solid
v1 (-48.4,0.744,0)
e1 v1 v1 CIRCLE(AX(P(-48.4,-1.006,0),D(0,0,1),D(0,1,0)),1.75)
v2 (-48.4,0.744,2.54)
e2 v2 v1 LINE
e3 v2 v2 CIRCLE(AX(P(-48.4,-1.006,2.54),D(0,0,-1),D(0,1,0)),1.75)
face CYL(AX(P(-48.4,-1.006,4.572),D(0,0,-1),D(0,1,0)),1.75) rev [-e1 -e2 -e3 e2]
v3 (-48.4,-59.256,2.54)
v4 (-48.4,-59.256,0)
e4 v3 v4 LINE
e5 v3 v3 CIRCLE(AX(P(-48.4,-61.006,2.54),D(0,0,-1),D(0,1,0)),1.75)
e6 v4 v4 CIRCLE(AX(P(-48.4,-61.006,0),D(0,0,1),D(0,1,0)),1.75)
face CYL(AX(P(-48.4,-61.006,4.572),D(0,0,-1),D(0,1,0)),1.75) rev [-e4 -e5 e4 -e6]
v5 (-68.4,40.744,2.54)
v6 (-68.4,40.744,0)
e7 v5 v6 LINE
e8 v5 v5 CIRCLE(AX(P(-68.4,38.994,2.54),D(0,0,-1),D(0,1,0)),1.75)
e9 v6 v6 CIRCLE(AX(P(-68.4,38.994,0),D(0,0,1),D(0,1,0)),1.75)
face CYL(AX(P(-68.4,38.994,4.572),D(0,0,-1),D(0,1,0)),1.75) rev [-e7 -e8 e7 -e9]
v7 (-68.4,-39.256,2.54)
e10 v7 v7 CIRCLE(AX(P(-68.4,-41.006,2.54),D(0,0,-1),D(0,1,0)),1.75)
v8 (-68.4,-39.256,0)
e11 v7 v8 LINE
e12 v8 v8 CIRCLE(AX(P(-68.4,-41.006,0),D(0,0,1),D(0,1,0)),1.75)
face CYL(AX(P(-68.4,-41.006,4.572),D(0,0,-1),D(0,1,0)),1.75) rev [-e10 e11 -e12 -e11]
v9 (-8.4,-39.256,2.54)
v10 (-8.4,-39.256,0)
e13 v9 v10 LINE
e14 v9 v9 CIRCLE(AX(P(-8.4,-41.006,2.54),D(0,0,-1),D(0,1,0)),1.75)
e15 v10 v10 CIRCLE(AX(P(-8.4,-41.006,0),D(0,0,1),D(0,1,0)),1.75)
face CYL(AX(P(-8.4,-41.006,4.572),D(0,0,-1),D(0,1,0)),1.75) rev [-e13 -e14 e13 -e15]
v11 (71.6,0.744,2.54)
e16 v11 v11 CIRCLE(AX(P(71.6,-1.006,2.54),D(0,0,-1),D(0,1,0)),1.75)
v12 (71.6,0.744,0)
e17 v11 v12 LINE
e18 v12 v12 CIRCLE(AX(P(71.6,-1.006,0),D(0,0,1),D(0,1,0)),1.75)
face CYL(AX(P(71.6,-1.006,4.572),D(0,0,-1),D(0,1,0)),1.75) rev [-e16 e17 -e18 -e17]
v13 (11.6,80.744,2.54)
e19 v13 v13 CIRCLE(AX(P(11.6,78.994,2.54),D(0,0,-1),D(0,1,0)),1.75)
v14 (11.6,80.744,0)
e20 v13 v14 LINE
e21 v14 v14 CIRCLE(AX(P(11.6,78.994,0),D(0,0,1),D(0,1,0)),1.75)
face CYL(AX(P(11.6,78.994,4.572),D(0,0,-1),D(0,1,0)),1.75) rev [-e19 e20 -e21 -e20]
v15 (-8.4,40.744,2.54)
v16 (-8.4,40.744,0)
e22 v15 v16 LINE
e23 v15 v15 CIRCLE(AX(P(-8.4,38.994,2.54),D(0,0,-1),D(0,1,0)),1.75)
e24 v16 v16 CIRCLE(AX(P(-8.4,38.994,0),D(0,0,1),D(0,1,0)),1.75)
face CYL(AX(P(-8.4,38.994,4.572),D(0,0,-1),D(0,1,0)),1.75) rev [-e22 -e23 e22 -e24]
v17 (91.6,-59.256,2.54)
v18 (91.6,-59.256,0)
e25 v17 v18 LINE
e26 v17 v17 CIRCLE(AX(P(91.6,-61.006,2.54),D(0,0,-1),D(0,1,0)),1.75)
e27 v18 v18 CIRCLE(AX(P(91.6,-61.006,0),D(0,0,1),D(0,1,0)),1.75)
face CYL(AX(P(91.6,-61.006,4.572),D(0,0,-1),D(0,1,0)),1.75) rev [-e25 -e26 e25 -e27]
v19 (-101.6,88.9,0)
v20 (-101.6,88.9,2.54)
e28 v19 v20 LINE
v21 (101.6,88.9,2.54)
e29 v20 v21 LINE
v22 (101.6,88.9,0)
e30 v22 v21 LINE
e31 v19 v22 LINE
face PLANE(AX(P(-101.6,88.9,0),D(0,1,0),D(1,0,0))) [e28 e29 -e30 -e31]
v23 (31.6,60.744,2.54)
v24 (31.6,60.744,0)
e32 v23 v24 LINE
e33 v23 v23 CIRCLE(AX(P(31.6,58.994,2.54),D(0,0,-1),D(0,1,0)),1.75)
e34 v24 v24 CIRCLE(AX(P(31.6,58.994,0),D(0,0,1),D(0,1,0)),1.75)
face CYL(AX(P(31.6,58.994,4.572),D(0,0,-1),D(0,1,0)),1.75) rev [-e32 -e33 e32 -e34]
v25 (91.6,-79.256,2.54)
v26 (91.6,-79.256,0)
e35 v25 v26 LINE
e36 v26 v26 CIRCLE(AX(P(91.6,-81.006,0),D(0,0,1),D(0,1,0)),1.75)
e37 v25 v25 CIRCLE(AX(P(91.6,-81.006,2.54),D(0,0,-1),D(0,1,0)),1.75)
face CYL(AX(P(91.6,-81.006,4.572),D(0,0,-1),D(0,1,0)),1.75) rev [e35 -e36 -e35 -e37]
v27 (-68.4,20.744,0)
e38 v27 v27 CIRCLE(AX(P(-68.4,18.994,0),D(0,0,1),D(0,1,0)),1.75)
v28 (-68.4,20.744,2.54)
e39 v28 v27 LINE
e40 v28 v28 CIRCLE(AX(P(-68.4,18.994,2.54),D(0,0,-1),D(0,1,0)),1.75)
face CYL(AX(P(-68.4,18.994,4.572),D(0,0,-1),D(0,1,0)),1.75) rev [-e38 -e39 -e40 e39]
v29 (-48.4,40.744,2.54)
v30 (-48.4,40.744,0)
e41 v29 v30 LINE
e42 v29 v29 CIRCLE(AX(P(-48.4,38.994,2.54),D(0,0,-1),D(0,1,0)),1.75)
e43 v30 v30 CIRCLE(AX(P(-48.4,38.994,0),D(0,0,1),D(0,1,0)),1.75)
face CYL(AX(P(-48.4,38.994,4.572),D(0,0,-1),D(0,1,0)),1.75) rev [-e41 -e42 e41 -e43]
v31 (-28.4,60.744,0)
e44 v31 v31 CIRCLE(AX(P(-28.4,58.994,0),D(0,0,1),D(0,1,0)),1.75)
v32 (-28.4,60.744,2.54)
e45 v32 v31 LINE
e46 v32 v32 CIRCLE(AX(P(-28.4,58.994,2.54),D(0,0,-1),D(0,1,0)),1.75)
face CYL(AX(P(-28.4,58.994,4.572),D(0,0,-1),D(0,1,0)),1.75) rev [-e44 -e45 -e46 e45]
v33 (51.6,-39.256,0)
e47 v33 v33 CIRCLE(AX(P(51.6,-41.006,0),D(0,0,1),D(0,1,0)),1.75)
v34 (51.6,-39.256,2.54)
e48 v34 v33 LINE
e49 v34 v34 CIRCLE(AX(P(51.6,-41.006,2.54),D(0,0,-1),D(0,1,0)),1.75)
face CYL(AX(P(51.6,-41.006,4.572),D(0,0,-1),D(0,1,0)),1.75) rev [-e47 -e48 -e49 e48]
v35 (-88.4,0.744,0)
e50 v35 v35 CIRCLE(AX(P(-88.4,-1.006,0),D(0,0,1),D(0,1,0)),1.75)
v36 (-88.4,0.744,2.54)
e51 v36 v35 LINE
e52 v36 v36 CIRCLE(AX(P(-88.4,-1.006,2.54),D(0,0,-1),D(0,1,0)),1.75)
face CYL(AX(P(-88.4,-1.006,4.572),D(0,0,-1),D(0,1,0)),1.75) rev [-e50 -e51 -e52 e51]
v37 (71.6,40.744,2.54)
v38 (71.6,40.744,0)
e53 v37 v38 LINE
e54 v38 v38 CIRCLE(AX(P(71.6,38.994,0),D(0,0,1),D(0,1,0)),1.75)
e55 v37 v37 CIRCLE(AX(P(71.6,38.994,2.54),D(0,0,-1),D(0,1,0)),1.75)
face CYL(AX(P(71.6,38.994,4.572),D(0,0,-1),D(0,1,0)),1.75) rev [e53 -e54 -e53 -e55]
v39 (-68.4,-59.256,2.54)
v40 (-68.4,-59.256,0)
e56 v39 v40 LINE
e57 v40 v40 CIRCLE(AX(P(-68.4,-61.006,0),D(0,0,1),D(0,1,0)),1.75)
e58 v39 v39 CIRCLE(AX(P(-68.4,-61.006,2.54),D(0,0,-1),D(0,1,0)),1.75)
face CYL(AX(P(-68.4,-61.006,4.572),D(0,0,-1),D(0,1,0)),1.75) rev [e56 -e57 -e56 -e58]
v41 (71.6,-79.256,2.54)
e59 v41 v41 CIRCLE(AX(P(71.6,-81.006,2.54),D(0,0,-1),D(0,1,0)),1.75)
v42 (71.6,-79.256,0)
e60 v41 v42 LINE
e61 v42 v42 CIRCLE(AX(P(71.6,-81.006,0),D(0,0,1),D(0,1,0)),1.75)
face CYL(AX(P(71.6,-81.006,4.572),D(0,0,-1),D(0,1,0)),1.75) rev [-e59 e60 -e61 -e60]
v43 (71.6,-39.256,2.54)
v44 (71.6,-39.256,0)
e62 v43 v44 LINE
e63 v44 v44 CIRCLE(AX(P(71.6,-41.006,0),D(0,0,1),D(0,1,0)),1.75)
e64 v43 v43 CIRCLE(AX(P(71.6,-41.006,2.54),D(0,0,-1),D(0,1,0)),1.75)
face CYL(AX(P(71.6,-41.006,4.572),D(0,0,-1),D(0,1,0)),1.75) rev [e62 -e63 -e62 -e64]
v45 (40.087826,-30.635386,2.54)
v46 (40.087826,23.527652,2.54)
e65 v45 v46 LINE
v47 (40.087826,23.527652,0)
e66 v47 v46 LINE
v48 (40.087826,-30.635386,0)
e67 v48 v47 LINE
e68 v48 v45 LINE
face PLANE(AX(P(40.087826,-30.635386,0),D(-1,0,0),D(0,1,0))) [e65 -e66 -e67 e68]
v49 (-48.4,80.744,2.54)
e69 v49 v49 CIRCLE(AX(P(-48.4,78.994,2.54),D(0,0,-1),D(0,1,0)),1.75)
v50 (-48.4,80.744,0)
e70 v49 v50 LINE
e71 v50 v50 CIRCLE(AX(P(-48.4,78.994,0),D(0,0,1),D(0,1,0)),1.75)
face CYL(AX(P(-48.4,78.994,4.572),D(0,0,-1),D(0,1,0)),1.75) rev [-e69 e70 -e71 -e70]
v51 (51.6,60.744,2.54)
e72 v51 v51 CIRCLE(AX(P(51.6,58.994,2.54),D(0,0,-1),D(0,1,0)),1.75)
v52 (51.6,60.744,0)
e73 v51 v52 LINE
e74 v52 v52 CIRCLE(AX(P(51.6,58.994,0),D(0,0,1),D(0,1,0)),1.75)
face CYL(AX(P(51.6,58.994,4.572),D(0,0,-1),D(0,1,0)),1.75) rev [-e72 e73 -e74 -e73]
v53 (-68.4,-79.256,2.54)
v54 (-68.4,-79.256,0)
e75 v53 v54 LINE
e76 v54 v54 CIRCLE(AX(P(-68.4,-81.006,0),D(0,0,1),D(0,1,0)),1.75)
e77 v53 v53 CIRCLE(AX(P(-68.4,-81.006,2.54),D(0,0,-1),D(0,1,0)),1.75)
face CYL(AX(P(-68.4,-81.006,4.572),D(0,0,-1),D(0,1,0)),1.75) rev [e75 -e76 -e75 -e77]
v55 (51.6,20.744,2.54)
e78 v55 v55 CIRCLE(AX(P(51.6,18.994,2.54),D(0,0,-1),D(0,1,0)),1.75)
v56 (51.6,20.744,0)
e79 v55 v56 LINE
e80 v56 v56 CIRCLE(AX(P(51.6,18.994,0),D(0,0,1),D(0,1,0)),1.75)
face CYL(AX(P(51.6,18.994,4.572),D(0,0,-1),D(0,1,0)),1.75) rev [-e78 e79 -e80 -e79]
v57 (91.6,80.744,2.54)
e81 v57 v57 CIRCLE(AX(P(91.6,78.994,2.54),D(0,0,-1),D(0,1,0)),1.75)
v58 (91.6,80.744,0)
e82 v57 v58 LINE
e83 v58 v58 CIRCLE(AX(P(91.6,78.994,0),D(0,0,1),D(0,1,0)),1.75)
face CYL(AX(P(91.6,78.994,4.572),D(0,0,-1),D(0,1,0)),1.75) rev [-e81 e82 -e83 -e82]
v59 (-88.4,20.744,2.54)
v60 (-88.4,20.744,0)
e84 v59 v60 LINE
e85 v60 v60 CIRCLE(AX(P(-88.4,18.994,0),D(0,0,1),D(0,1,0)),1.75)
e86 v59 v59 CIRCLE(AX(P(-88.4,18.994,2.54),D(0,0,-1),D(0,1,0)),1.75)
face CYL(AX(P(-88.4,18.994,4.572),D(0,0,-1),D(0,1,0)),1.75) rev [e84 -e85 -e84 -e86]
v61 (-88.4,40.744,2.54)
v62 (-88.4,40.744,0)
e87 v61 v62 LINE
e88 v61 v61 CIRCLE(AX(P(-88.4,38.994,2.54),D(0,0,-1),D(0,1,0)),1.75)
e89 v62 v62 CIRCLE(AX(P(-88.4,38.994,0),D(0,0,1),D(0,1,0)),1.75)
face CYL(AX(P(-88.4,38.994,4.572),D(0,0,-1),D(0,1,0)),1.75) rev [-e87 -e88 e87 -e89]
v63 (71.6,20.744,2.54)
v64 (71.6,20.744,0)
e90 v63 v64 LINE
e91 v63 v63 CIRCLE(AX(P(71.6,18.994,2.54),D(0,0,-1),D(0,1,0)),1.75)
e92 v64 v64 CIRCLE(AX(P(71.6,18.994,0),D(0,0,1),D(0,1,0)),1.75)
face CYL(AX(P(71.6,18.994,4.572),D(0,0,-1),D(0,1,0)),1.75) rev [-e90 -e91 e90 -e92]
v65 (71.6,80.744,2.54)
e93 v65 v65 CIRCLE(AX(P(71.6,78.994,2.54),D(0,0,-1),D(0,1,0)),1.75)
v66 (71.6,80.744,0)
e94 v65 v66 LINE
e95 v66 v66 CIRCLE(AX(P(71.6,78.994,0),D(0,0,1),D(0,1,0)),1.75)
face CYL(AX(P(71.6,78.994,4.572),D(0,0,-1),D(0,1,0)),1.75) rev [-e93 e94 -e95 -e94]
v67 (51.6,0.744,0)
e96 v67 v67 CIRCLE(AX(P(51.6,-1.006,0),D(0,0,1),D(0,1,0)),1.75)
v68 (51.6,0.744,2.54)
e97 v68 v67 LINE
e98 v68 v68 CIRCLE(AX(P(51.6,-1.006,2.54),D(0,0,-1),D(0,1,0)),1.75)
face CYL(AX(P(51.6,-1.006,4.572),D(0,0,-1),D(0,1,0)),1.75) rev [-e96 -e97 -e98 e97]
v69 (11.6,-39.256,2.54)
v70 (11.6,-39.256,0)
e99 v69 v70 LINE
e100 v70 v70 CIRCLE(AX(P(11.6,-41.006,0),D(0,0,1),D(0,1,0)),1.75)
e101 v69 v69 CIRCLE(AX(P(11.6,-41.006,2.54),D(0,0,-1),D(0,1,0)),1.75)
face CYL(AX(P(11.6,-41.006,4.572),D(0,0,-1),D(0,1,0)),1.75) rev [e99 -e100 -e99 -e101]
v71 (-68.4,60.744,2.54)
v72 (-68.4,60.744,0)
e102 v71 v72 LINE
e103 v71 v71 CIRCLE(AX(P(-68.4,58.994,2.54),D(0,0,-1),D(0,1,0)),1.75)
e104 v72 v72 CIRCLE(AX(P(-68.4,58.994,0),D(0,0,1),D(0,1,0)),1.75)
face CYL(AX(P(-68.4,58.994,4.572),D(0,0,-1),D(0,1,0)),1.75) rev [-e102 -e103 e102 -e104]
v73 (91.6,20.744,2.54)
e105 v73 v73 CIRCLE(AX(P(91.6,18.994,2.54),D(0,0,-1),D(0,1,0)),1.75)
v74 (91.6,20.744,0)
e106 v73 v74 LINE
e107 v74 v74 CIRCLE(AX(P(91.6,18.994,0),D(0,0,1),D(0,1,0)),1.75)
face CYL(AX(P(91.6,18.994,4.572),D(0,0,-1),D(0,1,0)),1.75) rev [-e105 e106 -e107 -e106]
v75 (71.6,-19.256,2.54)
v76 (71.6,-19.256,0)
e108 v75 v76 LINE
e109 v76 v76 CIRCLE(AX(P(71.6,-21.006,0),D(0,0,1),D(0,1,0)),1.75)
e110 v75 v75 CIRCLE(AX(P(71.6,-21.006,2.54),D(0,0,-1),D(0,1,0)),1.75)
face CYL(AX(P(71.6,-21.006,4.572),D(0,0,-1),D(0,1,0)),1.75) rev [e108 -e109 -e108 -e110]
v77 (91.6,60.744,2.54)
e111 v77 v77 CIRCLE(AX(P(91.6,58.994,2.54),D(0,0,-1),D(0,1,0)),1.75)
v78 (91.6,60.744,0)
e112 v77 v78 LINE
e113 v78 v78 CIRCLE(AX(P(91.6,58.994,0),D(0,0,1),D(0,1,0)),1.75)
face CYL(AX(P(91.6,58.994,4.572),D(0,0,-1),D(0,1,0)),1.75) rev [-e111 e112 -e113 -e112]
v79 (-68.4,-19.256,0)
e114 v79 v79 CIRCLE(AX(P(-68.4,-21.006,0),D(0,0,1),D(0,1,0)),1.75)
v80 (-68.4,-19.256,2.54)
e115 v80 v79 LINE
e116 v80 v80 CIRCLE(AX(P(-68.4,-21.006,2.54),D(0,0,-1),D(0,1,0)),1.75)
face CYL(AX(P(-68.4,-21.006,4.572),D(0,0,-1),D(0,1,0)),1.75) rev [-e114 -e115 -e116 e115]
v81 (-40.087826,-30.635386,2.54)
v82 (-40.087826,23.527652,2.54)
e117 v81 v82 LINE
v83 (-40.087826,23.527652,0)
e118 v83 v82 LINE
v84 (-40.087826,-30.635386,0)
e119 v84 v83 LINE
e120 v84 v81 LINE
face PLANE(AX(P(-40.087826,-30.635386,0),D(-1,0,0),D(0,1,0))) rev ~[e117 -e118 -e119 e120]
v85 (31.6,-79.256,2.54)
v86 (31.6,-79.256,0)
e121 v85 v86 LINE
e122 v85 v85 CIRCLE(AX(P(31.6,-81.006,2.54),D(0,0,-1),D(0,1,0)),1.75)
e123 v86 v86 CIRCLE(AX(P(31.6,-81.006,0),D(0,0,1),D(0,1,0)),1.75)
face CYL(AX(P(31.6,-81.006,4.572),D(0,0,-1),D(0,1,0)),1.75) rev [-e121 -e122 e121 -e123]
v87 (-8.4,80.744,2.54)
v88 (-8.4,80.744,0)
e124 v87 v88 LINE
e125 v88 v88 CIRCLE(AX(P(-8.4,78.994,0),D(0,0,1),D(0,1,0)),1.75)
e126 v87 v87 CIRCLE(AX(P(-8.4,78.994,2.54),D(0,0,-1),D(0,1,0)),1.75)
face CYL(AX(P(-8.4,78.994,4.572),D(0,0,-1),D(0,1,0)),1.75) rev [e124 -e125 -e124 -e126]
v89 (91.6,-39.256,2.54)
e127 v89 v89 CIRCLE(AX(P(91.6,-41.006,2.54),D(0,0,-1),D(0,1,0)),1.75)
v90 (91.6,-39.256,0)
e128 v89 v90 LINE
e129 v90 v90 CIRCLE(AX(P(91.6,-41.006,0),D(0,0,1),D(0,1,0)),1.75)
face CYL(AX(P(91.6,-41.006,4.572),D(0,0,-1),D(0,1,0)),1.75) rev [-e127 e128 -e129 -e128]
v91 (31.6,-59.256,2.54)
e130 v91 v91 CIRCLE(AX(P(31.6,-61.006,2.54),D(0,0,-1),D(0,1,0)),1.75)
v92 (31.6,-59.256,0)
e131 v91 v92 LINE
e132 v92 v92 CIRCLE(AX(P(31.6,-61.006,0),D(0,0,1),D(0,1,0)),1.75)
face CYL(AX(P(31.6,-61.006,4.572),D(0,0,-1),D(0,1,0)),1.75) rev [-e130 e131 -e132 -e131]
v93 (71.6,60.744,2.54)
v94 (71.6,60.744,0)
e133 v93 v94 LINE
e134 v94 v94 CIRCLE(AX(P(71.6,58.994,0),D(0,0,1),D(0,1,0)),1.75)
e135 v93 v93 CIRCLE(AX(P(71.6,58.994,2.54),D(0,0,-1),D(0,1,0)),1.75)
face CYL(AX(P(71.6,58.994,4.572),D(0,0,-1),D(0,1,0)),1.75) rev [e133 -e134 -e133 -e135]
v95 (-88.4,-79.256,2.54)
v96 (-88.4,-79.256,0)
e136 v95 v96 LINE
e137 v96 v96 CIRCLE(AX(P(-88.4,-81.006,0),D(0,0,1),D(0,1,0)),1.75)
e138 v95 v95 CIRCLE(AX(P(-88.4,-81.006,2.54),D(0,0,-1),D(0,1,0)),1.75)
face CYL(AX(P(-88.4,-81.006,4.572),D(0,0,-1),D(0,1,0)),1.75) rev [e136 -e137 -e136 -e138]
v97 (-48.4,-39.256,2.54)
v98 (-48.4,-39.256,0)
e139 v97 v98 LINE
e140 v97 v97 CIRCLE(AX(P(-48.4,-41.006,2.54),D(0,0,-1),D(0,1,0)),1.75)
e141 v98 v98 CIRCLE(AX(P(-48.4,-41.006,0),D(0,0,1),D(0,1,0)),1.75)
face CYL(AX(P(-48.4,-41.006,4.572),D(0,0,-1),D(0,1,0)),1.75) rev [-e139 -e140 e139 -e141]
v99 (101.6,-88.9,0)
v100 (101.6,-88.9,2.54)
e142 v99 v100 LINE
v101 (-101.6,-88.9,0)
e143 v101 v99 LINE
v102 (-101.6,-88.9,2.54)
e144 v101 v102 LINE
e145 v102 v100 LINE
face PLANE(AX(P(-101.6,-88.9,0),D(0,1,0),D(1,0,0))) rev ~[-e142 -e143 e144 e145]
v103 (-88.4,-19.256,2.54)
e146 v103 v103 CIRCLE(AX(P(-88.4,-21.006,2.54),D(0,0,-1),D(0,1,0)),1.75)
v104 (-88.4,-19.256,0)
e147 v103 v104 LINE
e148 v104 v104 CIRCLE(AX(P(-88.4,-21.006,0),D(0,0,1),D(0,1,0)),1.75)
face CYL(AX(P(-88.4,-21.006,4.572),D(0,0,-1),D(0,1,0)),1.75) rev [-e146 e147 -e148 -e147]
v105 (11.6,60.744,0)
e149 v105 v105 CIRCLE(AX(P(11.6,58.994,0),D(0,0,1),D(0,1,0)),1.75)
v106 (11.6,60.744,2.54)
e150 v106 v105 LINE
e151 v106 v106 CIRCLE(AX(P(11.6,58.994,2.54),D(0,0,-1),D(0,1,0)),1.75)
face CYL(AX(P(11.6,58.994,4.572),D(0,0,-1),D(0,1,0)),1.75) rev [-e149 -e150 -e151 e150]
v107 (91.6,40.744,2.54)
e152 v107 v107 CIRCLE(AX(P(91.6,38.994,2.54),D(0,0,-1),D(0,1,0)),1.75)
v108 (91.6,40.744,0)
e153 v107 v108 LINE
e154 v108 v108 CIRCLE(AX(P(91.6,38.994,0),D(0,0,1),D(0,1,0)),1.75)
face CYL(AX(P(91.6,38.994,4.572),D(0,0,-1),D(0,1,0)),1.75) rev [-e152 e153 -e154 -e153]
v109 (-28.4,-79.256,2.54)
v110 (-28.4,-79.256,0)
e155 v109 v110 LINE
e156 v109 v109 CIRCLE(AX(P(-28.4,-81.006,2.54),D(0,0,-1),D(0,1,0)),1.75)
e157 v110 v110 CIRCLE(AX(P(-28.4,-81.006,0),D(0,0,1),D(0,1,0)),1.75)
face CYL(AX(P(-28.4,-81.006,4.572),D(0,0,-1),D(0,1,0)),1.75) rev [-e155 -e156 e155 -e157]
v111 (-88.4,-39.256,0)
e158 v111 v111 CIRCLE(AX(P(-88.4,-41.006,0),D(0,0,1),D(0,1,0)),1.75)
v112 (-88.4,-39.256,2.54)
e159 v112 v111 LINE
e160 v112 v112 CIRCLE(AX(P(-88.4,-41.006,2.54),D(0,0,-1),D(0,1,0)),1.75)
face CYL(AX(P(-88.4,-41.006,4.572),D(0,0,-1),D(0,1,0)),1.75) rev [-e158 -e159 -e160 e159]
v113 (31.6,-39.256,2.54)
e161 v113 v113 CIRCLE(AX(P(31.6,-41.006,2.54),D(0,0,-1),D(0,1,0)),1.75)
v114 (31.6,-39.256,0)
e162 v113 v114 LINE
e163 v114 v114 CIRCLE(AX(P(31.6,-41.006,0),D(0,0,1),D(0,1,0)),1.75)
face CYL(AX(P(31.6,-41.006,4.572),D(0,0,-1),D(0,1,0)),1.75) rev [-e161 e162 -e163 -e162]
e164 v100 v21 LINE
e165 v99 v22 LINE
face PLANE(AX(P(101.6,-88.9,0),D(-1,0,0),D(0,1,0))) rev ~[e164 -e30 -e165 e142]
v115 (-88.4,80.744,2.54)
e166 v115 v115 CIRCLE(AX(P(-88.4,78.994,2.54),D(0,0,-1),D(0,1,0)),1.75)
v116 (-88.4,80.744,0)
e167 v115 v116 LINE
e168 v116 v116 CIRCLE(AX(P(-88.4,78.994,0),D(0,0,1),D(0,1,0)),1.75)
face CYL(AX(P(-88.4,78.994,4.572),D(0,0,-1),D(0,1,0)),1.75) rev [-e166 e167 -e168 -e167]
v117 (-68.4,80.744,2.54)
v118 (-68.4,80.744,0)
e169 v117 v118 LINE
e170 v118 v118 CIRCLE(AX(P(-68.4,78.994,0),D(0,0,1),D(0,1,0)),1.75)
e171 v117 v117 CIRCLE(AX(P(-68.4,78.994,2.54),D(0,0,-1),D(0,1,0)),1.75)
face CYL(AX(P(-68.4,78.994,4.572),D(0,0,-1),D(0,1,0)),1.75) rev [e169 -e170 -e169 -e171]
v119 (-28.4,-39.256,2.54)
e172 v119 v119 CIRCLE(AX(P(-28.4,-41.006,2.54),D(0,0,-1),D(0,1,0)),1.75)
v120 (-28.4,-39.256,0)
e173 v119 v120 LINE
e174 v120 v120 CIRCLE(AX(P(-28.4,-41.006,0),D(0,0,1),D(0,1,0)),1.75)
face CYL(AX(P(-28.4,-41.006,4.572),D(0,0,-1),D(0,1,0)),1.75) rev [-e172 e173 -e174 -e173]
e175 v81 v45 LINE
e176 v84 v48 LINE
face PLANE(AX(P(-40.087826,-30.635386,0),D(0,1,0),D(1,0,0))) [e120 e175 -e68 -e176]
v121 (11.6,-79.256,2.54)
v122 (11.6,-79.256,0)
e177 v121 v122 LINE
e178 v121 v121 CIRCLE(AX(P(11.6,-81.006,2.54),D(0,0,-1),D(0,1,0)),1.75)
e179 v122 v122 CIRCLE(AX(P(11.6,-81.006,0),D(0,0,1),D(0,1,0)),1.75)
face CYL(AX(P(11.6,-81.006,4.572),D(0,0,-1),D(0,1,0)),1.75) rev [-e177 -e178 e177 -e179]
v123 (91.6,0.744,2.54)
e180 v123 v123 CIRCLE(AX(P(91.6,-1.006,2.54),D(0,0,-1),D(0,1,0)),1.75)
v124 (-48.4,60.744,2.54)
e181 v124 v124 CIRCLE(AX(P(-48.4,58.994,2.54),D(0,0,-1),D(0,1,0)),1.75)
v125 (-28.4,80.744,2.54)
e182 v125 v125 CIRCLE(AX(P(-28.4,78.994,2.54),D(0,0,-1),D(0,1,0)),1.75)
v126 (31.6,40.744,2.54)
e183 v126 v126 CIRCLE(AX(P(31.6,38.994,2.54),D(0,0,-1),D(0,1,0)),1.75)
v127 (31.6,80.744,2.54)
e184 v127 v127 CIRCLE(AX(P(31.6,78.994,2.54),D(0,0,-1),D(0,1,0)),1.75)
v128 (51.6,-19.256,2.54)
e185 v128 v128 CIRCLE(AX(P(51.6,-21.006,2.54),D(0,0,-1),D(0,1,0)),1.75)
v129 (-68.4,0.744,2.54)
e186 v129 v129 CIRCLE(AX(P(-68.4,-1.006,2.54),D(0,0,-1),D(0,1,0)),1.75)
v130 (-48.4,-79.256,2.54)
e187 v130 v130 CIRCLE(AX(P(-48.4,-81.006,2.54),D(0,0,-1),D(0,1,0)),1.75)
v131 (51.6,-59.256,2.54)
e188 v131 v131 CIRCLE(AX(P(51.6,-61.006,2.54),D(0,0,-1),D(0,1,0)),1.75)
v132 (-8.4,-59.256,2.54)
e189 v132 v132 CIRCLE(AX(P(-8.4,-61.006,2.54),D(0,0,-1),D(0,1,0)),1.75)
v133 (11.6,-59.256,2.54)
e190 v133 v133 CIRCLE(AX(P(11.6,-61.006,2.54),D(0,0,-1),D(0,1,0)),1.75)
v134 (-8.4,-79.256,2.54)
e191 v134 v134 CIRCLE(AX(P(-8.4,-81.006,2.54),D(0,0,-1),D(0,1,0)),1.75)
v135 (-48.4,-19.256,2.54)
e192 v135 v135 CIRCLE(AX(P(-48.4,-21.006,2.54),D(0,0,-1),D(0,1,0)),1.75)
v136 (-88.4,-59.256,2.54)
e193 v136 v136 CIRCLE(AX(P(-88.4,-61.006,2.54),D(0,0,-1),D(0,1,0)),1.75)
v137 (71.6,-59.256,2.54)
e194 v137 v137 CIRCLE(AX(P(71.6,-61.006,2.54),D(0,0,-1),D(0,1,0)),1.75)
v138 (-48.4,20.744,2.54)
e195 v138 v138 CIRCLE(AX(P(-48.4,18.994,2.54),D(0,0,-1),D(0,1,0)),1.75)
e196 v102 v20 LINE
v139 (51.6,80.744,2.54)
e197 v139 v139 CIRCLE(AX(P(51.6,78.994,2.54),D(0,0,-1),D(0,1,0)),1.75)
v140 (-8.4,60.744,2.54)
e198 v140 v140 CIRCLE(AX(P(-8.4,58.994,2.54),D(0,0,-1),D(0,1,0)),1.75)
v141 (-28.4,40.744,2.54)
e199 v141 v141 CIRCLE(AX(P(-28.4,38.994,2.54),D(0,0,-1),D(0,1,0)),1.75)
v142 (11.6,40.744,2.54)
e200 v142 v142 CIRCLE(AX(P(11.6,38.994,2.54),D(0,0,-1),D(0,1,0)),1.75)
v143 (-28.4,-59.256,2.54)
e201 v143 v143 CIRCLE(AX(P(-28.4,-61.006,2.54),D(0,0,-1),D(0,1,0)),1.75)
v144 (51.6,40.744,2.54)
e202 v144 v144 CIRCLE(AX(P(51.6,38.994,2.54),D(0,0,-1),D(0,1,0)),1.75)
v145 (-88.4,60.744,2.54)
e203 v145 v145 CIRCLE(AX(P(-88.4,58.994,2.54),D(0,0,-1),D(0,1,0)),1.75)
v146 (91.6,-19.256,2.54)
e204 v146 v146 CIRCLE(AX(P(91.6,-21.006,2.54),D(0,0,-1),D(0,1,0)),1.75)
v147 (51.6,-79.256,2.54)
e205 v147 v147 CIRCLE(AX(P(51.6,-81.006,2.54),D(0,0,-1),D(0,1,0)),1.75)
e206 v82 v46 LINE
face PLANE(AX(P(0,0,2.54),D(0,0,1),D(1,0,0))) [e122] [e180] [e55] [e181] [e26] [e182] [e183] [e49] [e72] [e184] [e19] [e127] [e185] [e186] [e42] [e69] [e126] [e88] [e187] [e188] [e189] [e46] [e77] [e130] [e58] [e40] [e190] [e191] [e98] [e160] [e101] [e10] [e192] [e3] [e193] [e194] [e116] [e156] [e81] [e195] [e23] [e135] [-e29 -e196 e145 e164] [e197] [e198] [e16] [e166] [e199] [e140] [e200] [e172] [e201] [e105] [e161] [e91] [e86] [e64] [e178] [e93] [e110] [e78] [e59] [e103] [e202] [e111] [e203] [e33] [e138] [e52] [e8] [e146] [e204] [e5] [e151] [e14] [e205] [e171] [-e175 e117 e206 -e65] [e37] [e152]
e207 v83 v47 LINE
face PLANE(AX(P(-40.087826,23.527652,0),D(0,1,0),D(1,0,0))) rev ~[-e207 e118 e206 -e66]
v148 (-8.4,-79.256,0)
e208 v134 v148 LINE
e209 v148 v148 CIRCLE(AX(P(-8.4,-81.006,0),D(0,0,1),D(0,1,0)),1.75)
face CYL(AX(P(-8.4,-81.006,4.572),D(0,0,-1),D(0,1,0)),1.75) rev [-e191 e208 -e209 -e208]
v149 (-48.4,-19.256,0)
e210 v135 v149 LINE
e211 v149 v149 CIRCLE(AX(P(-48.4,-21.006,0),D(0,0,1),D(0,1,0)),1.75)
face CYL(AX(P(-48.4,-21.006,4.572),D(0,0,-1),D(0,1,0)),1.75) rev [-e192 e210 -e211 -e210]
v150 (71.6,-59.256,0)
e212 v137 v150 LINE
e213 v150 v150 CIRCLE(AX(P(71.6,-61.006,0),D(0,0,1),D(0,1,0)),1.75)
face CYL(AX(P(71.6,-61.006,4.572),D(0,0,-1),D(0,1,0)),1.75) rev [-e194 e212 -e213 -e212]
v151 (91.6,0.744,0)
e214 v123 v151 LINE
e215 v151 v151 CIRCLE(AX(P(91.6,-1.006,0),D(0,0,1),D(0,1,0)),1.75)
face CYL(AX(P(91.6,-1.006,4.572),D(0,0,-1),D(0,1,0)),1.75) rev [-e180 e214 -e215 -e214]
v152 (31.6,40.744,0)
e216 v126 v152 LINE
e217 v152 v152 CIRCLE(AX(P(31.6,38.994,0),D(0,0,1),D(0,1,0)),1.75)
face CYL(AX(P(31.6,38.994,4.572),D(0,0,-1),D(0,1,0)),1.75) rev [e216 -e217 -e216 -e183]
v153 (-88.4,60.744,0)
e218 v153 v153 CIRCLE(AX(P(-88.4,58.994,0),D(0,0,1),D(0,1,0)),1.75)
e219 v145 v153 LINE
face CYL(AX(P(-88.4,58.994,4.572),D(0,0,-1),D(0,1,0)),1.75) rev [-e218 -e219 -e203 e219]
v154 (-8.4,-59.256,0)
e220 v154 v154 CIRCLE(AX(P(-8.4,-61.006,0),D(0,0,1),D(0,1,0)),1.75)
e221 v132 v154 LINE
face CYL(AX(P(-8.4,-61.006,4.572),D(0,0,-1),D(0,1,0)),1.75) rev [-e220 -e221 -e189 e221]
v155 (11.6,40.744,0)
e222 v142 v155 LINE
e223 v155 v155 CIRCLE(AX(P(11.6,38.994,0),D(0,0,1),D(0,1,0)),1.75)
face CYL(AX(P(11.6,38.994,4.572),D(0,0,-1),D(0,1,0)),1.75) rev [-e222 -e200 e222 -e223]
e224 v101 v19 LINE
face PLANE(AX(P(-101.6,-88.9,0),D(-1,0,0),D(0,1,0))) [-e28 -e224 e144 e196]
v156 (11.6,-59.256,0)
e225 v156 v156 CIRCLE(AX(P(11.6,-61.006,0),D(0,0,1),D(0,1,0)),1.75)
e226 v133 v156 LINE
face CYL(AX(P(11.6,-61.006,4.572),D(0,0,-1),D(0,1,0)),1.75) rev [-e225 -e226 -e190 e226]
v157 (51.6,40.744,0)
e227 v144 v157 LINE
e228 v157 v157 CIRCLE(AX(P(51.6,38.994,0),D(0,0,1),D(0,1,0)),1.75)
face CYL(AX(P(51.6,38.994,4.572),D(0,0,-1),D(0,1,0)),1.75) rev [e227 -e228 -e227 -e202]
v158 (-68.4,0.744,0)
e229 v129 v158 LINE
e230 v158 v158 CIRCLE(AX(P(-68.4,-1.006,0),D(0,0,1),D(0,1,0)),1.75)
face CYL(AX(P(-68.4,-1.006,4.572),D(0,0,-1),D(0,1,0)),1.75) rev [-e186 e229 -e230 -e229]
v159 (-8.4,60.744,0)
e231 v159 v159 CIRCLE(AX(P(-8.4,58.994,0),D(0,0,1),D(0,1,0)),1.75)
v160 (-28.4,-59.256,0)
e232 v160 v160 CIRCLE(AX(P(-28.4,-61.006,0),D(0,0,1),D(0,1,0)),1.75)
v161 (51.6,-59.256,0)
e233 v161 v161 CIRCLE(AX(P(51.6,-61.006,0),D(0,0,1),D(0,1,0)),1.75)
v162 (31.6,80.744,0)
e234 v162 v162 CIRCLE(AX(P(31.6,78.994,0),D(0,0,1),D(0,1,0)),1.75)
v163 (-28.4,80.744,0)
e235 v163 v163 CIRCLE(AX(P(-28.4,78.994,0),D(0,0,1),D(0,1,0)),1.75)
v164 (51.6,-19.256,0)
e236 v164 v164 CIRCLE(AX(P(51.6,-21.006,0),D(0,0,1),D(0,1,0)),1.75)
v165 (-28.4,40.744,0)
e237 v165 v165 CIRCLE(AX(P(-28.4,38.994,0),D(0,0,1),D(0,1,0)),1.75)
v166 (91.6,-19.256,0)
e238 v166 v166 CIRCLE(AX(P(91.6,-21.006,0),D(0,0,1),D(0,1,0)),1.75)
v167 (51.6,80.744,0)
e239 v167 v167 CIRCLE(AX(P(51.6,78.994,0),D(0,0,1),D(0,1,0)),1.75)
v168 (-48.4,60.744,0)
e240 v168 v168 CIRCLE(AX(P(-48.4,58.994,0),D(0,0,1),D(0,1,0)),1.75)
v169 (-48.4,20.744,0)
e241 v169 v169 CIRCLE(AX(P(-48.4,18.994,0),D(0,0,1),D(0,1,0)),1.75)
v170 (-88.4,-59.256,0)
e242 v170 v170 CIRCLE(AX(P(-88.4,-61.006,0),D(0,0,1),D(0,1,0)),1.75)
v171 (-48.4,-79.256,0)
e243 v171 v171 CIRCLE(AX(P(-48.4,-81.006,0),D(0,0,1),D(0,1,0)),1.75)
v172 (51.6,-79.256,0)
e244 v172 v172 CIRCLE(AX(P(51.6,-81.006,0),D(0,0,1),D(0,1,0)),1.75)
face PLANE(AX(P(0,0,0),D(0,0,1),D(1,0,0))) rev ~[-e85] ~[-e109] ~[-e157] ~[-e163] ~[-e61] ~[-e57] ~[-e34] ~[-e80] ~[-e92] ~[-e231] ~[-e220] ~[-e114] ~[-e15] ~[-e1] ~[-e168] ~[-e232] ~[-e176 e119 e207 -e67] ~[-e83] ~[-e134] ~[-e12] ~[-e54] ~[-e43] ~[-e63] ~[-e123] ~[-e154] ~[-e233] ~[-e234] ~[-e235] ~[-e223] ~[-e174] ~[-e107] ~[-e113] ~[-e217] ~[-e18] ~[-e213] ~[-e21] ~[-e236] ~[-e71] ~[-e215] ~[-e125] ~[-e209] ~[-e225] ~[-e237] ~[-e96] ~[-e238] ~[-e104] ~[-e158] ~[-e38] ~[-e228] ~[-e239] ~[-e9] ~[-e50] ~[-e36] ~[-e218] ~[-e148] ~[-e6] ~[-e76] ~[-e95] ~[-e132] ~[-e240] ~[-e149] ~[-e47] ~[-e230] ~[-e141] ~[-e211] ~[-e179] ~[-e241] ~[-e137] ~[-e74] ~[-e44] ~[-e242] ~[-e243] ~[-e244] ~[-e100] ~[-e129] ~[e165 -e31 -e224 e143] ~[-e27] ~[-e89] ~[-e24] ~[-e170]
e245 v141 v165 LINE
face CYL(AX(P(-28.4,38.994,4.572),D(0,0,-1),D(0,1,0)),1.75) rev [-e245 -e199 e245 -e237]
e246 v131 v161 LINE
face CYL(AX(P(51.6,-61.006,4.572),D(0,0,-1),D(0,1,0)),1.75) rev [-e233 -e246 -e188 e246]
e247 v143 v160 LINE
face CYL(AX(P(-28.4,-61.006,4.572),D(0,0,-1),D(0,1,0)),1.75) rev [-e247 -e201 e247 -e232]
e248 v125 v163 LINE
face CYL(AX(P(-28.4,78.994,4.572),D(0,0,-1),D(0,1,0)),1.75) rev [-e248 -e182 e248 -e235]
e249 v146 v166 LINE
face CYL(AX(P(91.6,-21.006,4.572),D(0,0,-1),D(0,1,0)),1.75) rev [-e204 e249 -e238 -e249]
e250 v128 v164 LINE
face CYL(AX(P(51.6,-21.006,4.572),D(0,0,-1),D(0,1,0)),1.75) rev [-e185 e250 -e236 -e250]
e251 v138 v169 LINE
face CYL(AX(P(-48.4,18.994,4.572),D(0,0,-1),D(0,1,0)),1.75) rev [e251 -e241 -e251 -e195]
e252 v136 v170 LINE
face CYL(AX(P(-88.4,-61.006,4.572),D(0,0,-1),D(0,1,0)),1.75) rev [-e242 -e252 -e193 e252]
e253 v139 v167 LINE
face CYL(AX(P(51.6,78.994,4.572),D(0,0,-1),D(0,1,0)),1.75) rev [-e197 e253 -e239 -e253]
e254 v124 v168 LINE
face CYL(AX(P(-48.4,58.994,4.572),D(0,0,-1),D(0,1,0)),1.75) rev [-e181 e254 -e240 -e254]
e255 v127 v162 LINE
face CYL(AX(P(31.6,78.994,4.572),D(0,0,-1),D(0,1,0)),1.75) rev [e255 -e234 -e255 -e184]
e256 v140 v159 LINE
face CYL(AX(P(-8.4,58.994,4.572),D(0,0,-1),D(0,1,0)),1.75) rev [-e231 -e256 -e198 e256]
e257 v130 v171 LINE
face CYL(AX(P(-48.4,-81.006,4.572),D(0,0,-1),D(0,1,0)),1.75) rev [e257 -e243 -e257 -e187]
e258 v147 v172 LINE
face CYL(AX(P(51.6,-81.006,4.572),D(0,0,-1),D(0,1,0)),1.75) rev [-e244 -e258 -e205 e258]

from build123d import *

# Parameters (mm, degrees)
SKETCH1_W            = 203.2
SKETCH1_H            = 177.8
SKETCH1_W_2          = 80.17565134
SKETCH1_H_2          = 54.163037222
BOSS_EXTRUDE1_DEPTH  = 2.54
LPATTERN2_COUNT      = 9
LPATTERN2_PITCH      = 20
LPATTERN2_COUNT_DIR2 = 10
LPATTERN2_PITCH_DIR2 = 20


with BuildPart() as part:
    # Sketch1 → Boss-Extrude1 (new body)
    with BuildSketch(Plane.XY):
        Rectangle(SKETCH1_W, SKETCH1_H)
        with Locations((0, -3.553866914)):
            Rectangle(SKETCH1_W_2, SKETCH1_H_2, mode=Mode.SUBTRACT)
    extrude(amount=BOSS_EXTRUDE1_DEPTH)

    # Sketch4 → M2.5 Clearance Hole1 (revolve, cut)
    with BuildSketch(Plane(origin=(91.6, 78.994, 0), x_dir=(0, 1, 0), z_dir=(1, 0, 0))):
        Polygon((0, 0), (0, 5.623506083), (1.75, 4.572), (1.75, 0), align=None)
    m2_5_clearance_hole1 = revolve(axis=Axis((91.6, 78.994, -6.35), (0, 0, 1)), mode=Mode.SUBTRACT)

    # LPattern2: M2.5 Clearance Hole1 9 × 10, 12 skipped
    with Locations(*[(-j * LPATTERN2_PITCH_DIR2, -i * LPATTERN2_PITCH, 0) for i in range(LPATTERN2_COUNT) for j in range(LPATTERN2_COUNT_DIR2) if (i, j) not in ((0, 0), (3, 3), (3, 4), (3, 5), (3, 6), (4, 3), (4, 4), (4, 5), (4, 6), (5, 3), (5, 4), (5, 5), (5, 6))]):
        add(m2_5_clearance_hole1, mode=Mode.SUBTRACT)


solid = part.part
